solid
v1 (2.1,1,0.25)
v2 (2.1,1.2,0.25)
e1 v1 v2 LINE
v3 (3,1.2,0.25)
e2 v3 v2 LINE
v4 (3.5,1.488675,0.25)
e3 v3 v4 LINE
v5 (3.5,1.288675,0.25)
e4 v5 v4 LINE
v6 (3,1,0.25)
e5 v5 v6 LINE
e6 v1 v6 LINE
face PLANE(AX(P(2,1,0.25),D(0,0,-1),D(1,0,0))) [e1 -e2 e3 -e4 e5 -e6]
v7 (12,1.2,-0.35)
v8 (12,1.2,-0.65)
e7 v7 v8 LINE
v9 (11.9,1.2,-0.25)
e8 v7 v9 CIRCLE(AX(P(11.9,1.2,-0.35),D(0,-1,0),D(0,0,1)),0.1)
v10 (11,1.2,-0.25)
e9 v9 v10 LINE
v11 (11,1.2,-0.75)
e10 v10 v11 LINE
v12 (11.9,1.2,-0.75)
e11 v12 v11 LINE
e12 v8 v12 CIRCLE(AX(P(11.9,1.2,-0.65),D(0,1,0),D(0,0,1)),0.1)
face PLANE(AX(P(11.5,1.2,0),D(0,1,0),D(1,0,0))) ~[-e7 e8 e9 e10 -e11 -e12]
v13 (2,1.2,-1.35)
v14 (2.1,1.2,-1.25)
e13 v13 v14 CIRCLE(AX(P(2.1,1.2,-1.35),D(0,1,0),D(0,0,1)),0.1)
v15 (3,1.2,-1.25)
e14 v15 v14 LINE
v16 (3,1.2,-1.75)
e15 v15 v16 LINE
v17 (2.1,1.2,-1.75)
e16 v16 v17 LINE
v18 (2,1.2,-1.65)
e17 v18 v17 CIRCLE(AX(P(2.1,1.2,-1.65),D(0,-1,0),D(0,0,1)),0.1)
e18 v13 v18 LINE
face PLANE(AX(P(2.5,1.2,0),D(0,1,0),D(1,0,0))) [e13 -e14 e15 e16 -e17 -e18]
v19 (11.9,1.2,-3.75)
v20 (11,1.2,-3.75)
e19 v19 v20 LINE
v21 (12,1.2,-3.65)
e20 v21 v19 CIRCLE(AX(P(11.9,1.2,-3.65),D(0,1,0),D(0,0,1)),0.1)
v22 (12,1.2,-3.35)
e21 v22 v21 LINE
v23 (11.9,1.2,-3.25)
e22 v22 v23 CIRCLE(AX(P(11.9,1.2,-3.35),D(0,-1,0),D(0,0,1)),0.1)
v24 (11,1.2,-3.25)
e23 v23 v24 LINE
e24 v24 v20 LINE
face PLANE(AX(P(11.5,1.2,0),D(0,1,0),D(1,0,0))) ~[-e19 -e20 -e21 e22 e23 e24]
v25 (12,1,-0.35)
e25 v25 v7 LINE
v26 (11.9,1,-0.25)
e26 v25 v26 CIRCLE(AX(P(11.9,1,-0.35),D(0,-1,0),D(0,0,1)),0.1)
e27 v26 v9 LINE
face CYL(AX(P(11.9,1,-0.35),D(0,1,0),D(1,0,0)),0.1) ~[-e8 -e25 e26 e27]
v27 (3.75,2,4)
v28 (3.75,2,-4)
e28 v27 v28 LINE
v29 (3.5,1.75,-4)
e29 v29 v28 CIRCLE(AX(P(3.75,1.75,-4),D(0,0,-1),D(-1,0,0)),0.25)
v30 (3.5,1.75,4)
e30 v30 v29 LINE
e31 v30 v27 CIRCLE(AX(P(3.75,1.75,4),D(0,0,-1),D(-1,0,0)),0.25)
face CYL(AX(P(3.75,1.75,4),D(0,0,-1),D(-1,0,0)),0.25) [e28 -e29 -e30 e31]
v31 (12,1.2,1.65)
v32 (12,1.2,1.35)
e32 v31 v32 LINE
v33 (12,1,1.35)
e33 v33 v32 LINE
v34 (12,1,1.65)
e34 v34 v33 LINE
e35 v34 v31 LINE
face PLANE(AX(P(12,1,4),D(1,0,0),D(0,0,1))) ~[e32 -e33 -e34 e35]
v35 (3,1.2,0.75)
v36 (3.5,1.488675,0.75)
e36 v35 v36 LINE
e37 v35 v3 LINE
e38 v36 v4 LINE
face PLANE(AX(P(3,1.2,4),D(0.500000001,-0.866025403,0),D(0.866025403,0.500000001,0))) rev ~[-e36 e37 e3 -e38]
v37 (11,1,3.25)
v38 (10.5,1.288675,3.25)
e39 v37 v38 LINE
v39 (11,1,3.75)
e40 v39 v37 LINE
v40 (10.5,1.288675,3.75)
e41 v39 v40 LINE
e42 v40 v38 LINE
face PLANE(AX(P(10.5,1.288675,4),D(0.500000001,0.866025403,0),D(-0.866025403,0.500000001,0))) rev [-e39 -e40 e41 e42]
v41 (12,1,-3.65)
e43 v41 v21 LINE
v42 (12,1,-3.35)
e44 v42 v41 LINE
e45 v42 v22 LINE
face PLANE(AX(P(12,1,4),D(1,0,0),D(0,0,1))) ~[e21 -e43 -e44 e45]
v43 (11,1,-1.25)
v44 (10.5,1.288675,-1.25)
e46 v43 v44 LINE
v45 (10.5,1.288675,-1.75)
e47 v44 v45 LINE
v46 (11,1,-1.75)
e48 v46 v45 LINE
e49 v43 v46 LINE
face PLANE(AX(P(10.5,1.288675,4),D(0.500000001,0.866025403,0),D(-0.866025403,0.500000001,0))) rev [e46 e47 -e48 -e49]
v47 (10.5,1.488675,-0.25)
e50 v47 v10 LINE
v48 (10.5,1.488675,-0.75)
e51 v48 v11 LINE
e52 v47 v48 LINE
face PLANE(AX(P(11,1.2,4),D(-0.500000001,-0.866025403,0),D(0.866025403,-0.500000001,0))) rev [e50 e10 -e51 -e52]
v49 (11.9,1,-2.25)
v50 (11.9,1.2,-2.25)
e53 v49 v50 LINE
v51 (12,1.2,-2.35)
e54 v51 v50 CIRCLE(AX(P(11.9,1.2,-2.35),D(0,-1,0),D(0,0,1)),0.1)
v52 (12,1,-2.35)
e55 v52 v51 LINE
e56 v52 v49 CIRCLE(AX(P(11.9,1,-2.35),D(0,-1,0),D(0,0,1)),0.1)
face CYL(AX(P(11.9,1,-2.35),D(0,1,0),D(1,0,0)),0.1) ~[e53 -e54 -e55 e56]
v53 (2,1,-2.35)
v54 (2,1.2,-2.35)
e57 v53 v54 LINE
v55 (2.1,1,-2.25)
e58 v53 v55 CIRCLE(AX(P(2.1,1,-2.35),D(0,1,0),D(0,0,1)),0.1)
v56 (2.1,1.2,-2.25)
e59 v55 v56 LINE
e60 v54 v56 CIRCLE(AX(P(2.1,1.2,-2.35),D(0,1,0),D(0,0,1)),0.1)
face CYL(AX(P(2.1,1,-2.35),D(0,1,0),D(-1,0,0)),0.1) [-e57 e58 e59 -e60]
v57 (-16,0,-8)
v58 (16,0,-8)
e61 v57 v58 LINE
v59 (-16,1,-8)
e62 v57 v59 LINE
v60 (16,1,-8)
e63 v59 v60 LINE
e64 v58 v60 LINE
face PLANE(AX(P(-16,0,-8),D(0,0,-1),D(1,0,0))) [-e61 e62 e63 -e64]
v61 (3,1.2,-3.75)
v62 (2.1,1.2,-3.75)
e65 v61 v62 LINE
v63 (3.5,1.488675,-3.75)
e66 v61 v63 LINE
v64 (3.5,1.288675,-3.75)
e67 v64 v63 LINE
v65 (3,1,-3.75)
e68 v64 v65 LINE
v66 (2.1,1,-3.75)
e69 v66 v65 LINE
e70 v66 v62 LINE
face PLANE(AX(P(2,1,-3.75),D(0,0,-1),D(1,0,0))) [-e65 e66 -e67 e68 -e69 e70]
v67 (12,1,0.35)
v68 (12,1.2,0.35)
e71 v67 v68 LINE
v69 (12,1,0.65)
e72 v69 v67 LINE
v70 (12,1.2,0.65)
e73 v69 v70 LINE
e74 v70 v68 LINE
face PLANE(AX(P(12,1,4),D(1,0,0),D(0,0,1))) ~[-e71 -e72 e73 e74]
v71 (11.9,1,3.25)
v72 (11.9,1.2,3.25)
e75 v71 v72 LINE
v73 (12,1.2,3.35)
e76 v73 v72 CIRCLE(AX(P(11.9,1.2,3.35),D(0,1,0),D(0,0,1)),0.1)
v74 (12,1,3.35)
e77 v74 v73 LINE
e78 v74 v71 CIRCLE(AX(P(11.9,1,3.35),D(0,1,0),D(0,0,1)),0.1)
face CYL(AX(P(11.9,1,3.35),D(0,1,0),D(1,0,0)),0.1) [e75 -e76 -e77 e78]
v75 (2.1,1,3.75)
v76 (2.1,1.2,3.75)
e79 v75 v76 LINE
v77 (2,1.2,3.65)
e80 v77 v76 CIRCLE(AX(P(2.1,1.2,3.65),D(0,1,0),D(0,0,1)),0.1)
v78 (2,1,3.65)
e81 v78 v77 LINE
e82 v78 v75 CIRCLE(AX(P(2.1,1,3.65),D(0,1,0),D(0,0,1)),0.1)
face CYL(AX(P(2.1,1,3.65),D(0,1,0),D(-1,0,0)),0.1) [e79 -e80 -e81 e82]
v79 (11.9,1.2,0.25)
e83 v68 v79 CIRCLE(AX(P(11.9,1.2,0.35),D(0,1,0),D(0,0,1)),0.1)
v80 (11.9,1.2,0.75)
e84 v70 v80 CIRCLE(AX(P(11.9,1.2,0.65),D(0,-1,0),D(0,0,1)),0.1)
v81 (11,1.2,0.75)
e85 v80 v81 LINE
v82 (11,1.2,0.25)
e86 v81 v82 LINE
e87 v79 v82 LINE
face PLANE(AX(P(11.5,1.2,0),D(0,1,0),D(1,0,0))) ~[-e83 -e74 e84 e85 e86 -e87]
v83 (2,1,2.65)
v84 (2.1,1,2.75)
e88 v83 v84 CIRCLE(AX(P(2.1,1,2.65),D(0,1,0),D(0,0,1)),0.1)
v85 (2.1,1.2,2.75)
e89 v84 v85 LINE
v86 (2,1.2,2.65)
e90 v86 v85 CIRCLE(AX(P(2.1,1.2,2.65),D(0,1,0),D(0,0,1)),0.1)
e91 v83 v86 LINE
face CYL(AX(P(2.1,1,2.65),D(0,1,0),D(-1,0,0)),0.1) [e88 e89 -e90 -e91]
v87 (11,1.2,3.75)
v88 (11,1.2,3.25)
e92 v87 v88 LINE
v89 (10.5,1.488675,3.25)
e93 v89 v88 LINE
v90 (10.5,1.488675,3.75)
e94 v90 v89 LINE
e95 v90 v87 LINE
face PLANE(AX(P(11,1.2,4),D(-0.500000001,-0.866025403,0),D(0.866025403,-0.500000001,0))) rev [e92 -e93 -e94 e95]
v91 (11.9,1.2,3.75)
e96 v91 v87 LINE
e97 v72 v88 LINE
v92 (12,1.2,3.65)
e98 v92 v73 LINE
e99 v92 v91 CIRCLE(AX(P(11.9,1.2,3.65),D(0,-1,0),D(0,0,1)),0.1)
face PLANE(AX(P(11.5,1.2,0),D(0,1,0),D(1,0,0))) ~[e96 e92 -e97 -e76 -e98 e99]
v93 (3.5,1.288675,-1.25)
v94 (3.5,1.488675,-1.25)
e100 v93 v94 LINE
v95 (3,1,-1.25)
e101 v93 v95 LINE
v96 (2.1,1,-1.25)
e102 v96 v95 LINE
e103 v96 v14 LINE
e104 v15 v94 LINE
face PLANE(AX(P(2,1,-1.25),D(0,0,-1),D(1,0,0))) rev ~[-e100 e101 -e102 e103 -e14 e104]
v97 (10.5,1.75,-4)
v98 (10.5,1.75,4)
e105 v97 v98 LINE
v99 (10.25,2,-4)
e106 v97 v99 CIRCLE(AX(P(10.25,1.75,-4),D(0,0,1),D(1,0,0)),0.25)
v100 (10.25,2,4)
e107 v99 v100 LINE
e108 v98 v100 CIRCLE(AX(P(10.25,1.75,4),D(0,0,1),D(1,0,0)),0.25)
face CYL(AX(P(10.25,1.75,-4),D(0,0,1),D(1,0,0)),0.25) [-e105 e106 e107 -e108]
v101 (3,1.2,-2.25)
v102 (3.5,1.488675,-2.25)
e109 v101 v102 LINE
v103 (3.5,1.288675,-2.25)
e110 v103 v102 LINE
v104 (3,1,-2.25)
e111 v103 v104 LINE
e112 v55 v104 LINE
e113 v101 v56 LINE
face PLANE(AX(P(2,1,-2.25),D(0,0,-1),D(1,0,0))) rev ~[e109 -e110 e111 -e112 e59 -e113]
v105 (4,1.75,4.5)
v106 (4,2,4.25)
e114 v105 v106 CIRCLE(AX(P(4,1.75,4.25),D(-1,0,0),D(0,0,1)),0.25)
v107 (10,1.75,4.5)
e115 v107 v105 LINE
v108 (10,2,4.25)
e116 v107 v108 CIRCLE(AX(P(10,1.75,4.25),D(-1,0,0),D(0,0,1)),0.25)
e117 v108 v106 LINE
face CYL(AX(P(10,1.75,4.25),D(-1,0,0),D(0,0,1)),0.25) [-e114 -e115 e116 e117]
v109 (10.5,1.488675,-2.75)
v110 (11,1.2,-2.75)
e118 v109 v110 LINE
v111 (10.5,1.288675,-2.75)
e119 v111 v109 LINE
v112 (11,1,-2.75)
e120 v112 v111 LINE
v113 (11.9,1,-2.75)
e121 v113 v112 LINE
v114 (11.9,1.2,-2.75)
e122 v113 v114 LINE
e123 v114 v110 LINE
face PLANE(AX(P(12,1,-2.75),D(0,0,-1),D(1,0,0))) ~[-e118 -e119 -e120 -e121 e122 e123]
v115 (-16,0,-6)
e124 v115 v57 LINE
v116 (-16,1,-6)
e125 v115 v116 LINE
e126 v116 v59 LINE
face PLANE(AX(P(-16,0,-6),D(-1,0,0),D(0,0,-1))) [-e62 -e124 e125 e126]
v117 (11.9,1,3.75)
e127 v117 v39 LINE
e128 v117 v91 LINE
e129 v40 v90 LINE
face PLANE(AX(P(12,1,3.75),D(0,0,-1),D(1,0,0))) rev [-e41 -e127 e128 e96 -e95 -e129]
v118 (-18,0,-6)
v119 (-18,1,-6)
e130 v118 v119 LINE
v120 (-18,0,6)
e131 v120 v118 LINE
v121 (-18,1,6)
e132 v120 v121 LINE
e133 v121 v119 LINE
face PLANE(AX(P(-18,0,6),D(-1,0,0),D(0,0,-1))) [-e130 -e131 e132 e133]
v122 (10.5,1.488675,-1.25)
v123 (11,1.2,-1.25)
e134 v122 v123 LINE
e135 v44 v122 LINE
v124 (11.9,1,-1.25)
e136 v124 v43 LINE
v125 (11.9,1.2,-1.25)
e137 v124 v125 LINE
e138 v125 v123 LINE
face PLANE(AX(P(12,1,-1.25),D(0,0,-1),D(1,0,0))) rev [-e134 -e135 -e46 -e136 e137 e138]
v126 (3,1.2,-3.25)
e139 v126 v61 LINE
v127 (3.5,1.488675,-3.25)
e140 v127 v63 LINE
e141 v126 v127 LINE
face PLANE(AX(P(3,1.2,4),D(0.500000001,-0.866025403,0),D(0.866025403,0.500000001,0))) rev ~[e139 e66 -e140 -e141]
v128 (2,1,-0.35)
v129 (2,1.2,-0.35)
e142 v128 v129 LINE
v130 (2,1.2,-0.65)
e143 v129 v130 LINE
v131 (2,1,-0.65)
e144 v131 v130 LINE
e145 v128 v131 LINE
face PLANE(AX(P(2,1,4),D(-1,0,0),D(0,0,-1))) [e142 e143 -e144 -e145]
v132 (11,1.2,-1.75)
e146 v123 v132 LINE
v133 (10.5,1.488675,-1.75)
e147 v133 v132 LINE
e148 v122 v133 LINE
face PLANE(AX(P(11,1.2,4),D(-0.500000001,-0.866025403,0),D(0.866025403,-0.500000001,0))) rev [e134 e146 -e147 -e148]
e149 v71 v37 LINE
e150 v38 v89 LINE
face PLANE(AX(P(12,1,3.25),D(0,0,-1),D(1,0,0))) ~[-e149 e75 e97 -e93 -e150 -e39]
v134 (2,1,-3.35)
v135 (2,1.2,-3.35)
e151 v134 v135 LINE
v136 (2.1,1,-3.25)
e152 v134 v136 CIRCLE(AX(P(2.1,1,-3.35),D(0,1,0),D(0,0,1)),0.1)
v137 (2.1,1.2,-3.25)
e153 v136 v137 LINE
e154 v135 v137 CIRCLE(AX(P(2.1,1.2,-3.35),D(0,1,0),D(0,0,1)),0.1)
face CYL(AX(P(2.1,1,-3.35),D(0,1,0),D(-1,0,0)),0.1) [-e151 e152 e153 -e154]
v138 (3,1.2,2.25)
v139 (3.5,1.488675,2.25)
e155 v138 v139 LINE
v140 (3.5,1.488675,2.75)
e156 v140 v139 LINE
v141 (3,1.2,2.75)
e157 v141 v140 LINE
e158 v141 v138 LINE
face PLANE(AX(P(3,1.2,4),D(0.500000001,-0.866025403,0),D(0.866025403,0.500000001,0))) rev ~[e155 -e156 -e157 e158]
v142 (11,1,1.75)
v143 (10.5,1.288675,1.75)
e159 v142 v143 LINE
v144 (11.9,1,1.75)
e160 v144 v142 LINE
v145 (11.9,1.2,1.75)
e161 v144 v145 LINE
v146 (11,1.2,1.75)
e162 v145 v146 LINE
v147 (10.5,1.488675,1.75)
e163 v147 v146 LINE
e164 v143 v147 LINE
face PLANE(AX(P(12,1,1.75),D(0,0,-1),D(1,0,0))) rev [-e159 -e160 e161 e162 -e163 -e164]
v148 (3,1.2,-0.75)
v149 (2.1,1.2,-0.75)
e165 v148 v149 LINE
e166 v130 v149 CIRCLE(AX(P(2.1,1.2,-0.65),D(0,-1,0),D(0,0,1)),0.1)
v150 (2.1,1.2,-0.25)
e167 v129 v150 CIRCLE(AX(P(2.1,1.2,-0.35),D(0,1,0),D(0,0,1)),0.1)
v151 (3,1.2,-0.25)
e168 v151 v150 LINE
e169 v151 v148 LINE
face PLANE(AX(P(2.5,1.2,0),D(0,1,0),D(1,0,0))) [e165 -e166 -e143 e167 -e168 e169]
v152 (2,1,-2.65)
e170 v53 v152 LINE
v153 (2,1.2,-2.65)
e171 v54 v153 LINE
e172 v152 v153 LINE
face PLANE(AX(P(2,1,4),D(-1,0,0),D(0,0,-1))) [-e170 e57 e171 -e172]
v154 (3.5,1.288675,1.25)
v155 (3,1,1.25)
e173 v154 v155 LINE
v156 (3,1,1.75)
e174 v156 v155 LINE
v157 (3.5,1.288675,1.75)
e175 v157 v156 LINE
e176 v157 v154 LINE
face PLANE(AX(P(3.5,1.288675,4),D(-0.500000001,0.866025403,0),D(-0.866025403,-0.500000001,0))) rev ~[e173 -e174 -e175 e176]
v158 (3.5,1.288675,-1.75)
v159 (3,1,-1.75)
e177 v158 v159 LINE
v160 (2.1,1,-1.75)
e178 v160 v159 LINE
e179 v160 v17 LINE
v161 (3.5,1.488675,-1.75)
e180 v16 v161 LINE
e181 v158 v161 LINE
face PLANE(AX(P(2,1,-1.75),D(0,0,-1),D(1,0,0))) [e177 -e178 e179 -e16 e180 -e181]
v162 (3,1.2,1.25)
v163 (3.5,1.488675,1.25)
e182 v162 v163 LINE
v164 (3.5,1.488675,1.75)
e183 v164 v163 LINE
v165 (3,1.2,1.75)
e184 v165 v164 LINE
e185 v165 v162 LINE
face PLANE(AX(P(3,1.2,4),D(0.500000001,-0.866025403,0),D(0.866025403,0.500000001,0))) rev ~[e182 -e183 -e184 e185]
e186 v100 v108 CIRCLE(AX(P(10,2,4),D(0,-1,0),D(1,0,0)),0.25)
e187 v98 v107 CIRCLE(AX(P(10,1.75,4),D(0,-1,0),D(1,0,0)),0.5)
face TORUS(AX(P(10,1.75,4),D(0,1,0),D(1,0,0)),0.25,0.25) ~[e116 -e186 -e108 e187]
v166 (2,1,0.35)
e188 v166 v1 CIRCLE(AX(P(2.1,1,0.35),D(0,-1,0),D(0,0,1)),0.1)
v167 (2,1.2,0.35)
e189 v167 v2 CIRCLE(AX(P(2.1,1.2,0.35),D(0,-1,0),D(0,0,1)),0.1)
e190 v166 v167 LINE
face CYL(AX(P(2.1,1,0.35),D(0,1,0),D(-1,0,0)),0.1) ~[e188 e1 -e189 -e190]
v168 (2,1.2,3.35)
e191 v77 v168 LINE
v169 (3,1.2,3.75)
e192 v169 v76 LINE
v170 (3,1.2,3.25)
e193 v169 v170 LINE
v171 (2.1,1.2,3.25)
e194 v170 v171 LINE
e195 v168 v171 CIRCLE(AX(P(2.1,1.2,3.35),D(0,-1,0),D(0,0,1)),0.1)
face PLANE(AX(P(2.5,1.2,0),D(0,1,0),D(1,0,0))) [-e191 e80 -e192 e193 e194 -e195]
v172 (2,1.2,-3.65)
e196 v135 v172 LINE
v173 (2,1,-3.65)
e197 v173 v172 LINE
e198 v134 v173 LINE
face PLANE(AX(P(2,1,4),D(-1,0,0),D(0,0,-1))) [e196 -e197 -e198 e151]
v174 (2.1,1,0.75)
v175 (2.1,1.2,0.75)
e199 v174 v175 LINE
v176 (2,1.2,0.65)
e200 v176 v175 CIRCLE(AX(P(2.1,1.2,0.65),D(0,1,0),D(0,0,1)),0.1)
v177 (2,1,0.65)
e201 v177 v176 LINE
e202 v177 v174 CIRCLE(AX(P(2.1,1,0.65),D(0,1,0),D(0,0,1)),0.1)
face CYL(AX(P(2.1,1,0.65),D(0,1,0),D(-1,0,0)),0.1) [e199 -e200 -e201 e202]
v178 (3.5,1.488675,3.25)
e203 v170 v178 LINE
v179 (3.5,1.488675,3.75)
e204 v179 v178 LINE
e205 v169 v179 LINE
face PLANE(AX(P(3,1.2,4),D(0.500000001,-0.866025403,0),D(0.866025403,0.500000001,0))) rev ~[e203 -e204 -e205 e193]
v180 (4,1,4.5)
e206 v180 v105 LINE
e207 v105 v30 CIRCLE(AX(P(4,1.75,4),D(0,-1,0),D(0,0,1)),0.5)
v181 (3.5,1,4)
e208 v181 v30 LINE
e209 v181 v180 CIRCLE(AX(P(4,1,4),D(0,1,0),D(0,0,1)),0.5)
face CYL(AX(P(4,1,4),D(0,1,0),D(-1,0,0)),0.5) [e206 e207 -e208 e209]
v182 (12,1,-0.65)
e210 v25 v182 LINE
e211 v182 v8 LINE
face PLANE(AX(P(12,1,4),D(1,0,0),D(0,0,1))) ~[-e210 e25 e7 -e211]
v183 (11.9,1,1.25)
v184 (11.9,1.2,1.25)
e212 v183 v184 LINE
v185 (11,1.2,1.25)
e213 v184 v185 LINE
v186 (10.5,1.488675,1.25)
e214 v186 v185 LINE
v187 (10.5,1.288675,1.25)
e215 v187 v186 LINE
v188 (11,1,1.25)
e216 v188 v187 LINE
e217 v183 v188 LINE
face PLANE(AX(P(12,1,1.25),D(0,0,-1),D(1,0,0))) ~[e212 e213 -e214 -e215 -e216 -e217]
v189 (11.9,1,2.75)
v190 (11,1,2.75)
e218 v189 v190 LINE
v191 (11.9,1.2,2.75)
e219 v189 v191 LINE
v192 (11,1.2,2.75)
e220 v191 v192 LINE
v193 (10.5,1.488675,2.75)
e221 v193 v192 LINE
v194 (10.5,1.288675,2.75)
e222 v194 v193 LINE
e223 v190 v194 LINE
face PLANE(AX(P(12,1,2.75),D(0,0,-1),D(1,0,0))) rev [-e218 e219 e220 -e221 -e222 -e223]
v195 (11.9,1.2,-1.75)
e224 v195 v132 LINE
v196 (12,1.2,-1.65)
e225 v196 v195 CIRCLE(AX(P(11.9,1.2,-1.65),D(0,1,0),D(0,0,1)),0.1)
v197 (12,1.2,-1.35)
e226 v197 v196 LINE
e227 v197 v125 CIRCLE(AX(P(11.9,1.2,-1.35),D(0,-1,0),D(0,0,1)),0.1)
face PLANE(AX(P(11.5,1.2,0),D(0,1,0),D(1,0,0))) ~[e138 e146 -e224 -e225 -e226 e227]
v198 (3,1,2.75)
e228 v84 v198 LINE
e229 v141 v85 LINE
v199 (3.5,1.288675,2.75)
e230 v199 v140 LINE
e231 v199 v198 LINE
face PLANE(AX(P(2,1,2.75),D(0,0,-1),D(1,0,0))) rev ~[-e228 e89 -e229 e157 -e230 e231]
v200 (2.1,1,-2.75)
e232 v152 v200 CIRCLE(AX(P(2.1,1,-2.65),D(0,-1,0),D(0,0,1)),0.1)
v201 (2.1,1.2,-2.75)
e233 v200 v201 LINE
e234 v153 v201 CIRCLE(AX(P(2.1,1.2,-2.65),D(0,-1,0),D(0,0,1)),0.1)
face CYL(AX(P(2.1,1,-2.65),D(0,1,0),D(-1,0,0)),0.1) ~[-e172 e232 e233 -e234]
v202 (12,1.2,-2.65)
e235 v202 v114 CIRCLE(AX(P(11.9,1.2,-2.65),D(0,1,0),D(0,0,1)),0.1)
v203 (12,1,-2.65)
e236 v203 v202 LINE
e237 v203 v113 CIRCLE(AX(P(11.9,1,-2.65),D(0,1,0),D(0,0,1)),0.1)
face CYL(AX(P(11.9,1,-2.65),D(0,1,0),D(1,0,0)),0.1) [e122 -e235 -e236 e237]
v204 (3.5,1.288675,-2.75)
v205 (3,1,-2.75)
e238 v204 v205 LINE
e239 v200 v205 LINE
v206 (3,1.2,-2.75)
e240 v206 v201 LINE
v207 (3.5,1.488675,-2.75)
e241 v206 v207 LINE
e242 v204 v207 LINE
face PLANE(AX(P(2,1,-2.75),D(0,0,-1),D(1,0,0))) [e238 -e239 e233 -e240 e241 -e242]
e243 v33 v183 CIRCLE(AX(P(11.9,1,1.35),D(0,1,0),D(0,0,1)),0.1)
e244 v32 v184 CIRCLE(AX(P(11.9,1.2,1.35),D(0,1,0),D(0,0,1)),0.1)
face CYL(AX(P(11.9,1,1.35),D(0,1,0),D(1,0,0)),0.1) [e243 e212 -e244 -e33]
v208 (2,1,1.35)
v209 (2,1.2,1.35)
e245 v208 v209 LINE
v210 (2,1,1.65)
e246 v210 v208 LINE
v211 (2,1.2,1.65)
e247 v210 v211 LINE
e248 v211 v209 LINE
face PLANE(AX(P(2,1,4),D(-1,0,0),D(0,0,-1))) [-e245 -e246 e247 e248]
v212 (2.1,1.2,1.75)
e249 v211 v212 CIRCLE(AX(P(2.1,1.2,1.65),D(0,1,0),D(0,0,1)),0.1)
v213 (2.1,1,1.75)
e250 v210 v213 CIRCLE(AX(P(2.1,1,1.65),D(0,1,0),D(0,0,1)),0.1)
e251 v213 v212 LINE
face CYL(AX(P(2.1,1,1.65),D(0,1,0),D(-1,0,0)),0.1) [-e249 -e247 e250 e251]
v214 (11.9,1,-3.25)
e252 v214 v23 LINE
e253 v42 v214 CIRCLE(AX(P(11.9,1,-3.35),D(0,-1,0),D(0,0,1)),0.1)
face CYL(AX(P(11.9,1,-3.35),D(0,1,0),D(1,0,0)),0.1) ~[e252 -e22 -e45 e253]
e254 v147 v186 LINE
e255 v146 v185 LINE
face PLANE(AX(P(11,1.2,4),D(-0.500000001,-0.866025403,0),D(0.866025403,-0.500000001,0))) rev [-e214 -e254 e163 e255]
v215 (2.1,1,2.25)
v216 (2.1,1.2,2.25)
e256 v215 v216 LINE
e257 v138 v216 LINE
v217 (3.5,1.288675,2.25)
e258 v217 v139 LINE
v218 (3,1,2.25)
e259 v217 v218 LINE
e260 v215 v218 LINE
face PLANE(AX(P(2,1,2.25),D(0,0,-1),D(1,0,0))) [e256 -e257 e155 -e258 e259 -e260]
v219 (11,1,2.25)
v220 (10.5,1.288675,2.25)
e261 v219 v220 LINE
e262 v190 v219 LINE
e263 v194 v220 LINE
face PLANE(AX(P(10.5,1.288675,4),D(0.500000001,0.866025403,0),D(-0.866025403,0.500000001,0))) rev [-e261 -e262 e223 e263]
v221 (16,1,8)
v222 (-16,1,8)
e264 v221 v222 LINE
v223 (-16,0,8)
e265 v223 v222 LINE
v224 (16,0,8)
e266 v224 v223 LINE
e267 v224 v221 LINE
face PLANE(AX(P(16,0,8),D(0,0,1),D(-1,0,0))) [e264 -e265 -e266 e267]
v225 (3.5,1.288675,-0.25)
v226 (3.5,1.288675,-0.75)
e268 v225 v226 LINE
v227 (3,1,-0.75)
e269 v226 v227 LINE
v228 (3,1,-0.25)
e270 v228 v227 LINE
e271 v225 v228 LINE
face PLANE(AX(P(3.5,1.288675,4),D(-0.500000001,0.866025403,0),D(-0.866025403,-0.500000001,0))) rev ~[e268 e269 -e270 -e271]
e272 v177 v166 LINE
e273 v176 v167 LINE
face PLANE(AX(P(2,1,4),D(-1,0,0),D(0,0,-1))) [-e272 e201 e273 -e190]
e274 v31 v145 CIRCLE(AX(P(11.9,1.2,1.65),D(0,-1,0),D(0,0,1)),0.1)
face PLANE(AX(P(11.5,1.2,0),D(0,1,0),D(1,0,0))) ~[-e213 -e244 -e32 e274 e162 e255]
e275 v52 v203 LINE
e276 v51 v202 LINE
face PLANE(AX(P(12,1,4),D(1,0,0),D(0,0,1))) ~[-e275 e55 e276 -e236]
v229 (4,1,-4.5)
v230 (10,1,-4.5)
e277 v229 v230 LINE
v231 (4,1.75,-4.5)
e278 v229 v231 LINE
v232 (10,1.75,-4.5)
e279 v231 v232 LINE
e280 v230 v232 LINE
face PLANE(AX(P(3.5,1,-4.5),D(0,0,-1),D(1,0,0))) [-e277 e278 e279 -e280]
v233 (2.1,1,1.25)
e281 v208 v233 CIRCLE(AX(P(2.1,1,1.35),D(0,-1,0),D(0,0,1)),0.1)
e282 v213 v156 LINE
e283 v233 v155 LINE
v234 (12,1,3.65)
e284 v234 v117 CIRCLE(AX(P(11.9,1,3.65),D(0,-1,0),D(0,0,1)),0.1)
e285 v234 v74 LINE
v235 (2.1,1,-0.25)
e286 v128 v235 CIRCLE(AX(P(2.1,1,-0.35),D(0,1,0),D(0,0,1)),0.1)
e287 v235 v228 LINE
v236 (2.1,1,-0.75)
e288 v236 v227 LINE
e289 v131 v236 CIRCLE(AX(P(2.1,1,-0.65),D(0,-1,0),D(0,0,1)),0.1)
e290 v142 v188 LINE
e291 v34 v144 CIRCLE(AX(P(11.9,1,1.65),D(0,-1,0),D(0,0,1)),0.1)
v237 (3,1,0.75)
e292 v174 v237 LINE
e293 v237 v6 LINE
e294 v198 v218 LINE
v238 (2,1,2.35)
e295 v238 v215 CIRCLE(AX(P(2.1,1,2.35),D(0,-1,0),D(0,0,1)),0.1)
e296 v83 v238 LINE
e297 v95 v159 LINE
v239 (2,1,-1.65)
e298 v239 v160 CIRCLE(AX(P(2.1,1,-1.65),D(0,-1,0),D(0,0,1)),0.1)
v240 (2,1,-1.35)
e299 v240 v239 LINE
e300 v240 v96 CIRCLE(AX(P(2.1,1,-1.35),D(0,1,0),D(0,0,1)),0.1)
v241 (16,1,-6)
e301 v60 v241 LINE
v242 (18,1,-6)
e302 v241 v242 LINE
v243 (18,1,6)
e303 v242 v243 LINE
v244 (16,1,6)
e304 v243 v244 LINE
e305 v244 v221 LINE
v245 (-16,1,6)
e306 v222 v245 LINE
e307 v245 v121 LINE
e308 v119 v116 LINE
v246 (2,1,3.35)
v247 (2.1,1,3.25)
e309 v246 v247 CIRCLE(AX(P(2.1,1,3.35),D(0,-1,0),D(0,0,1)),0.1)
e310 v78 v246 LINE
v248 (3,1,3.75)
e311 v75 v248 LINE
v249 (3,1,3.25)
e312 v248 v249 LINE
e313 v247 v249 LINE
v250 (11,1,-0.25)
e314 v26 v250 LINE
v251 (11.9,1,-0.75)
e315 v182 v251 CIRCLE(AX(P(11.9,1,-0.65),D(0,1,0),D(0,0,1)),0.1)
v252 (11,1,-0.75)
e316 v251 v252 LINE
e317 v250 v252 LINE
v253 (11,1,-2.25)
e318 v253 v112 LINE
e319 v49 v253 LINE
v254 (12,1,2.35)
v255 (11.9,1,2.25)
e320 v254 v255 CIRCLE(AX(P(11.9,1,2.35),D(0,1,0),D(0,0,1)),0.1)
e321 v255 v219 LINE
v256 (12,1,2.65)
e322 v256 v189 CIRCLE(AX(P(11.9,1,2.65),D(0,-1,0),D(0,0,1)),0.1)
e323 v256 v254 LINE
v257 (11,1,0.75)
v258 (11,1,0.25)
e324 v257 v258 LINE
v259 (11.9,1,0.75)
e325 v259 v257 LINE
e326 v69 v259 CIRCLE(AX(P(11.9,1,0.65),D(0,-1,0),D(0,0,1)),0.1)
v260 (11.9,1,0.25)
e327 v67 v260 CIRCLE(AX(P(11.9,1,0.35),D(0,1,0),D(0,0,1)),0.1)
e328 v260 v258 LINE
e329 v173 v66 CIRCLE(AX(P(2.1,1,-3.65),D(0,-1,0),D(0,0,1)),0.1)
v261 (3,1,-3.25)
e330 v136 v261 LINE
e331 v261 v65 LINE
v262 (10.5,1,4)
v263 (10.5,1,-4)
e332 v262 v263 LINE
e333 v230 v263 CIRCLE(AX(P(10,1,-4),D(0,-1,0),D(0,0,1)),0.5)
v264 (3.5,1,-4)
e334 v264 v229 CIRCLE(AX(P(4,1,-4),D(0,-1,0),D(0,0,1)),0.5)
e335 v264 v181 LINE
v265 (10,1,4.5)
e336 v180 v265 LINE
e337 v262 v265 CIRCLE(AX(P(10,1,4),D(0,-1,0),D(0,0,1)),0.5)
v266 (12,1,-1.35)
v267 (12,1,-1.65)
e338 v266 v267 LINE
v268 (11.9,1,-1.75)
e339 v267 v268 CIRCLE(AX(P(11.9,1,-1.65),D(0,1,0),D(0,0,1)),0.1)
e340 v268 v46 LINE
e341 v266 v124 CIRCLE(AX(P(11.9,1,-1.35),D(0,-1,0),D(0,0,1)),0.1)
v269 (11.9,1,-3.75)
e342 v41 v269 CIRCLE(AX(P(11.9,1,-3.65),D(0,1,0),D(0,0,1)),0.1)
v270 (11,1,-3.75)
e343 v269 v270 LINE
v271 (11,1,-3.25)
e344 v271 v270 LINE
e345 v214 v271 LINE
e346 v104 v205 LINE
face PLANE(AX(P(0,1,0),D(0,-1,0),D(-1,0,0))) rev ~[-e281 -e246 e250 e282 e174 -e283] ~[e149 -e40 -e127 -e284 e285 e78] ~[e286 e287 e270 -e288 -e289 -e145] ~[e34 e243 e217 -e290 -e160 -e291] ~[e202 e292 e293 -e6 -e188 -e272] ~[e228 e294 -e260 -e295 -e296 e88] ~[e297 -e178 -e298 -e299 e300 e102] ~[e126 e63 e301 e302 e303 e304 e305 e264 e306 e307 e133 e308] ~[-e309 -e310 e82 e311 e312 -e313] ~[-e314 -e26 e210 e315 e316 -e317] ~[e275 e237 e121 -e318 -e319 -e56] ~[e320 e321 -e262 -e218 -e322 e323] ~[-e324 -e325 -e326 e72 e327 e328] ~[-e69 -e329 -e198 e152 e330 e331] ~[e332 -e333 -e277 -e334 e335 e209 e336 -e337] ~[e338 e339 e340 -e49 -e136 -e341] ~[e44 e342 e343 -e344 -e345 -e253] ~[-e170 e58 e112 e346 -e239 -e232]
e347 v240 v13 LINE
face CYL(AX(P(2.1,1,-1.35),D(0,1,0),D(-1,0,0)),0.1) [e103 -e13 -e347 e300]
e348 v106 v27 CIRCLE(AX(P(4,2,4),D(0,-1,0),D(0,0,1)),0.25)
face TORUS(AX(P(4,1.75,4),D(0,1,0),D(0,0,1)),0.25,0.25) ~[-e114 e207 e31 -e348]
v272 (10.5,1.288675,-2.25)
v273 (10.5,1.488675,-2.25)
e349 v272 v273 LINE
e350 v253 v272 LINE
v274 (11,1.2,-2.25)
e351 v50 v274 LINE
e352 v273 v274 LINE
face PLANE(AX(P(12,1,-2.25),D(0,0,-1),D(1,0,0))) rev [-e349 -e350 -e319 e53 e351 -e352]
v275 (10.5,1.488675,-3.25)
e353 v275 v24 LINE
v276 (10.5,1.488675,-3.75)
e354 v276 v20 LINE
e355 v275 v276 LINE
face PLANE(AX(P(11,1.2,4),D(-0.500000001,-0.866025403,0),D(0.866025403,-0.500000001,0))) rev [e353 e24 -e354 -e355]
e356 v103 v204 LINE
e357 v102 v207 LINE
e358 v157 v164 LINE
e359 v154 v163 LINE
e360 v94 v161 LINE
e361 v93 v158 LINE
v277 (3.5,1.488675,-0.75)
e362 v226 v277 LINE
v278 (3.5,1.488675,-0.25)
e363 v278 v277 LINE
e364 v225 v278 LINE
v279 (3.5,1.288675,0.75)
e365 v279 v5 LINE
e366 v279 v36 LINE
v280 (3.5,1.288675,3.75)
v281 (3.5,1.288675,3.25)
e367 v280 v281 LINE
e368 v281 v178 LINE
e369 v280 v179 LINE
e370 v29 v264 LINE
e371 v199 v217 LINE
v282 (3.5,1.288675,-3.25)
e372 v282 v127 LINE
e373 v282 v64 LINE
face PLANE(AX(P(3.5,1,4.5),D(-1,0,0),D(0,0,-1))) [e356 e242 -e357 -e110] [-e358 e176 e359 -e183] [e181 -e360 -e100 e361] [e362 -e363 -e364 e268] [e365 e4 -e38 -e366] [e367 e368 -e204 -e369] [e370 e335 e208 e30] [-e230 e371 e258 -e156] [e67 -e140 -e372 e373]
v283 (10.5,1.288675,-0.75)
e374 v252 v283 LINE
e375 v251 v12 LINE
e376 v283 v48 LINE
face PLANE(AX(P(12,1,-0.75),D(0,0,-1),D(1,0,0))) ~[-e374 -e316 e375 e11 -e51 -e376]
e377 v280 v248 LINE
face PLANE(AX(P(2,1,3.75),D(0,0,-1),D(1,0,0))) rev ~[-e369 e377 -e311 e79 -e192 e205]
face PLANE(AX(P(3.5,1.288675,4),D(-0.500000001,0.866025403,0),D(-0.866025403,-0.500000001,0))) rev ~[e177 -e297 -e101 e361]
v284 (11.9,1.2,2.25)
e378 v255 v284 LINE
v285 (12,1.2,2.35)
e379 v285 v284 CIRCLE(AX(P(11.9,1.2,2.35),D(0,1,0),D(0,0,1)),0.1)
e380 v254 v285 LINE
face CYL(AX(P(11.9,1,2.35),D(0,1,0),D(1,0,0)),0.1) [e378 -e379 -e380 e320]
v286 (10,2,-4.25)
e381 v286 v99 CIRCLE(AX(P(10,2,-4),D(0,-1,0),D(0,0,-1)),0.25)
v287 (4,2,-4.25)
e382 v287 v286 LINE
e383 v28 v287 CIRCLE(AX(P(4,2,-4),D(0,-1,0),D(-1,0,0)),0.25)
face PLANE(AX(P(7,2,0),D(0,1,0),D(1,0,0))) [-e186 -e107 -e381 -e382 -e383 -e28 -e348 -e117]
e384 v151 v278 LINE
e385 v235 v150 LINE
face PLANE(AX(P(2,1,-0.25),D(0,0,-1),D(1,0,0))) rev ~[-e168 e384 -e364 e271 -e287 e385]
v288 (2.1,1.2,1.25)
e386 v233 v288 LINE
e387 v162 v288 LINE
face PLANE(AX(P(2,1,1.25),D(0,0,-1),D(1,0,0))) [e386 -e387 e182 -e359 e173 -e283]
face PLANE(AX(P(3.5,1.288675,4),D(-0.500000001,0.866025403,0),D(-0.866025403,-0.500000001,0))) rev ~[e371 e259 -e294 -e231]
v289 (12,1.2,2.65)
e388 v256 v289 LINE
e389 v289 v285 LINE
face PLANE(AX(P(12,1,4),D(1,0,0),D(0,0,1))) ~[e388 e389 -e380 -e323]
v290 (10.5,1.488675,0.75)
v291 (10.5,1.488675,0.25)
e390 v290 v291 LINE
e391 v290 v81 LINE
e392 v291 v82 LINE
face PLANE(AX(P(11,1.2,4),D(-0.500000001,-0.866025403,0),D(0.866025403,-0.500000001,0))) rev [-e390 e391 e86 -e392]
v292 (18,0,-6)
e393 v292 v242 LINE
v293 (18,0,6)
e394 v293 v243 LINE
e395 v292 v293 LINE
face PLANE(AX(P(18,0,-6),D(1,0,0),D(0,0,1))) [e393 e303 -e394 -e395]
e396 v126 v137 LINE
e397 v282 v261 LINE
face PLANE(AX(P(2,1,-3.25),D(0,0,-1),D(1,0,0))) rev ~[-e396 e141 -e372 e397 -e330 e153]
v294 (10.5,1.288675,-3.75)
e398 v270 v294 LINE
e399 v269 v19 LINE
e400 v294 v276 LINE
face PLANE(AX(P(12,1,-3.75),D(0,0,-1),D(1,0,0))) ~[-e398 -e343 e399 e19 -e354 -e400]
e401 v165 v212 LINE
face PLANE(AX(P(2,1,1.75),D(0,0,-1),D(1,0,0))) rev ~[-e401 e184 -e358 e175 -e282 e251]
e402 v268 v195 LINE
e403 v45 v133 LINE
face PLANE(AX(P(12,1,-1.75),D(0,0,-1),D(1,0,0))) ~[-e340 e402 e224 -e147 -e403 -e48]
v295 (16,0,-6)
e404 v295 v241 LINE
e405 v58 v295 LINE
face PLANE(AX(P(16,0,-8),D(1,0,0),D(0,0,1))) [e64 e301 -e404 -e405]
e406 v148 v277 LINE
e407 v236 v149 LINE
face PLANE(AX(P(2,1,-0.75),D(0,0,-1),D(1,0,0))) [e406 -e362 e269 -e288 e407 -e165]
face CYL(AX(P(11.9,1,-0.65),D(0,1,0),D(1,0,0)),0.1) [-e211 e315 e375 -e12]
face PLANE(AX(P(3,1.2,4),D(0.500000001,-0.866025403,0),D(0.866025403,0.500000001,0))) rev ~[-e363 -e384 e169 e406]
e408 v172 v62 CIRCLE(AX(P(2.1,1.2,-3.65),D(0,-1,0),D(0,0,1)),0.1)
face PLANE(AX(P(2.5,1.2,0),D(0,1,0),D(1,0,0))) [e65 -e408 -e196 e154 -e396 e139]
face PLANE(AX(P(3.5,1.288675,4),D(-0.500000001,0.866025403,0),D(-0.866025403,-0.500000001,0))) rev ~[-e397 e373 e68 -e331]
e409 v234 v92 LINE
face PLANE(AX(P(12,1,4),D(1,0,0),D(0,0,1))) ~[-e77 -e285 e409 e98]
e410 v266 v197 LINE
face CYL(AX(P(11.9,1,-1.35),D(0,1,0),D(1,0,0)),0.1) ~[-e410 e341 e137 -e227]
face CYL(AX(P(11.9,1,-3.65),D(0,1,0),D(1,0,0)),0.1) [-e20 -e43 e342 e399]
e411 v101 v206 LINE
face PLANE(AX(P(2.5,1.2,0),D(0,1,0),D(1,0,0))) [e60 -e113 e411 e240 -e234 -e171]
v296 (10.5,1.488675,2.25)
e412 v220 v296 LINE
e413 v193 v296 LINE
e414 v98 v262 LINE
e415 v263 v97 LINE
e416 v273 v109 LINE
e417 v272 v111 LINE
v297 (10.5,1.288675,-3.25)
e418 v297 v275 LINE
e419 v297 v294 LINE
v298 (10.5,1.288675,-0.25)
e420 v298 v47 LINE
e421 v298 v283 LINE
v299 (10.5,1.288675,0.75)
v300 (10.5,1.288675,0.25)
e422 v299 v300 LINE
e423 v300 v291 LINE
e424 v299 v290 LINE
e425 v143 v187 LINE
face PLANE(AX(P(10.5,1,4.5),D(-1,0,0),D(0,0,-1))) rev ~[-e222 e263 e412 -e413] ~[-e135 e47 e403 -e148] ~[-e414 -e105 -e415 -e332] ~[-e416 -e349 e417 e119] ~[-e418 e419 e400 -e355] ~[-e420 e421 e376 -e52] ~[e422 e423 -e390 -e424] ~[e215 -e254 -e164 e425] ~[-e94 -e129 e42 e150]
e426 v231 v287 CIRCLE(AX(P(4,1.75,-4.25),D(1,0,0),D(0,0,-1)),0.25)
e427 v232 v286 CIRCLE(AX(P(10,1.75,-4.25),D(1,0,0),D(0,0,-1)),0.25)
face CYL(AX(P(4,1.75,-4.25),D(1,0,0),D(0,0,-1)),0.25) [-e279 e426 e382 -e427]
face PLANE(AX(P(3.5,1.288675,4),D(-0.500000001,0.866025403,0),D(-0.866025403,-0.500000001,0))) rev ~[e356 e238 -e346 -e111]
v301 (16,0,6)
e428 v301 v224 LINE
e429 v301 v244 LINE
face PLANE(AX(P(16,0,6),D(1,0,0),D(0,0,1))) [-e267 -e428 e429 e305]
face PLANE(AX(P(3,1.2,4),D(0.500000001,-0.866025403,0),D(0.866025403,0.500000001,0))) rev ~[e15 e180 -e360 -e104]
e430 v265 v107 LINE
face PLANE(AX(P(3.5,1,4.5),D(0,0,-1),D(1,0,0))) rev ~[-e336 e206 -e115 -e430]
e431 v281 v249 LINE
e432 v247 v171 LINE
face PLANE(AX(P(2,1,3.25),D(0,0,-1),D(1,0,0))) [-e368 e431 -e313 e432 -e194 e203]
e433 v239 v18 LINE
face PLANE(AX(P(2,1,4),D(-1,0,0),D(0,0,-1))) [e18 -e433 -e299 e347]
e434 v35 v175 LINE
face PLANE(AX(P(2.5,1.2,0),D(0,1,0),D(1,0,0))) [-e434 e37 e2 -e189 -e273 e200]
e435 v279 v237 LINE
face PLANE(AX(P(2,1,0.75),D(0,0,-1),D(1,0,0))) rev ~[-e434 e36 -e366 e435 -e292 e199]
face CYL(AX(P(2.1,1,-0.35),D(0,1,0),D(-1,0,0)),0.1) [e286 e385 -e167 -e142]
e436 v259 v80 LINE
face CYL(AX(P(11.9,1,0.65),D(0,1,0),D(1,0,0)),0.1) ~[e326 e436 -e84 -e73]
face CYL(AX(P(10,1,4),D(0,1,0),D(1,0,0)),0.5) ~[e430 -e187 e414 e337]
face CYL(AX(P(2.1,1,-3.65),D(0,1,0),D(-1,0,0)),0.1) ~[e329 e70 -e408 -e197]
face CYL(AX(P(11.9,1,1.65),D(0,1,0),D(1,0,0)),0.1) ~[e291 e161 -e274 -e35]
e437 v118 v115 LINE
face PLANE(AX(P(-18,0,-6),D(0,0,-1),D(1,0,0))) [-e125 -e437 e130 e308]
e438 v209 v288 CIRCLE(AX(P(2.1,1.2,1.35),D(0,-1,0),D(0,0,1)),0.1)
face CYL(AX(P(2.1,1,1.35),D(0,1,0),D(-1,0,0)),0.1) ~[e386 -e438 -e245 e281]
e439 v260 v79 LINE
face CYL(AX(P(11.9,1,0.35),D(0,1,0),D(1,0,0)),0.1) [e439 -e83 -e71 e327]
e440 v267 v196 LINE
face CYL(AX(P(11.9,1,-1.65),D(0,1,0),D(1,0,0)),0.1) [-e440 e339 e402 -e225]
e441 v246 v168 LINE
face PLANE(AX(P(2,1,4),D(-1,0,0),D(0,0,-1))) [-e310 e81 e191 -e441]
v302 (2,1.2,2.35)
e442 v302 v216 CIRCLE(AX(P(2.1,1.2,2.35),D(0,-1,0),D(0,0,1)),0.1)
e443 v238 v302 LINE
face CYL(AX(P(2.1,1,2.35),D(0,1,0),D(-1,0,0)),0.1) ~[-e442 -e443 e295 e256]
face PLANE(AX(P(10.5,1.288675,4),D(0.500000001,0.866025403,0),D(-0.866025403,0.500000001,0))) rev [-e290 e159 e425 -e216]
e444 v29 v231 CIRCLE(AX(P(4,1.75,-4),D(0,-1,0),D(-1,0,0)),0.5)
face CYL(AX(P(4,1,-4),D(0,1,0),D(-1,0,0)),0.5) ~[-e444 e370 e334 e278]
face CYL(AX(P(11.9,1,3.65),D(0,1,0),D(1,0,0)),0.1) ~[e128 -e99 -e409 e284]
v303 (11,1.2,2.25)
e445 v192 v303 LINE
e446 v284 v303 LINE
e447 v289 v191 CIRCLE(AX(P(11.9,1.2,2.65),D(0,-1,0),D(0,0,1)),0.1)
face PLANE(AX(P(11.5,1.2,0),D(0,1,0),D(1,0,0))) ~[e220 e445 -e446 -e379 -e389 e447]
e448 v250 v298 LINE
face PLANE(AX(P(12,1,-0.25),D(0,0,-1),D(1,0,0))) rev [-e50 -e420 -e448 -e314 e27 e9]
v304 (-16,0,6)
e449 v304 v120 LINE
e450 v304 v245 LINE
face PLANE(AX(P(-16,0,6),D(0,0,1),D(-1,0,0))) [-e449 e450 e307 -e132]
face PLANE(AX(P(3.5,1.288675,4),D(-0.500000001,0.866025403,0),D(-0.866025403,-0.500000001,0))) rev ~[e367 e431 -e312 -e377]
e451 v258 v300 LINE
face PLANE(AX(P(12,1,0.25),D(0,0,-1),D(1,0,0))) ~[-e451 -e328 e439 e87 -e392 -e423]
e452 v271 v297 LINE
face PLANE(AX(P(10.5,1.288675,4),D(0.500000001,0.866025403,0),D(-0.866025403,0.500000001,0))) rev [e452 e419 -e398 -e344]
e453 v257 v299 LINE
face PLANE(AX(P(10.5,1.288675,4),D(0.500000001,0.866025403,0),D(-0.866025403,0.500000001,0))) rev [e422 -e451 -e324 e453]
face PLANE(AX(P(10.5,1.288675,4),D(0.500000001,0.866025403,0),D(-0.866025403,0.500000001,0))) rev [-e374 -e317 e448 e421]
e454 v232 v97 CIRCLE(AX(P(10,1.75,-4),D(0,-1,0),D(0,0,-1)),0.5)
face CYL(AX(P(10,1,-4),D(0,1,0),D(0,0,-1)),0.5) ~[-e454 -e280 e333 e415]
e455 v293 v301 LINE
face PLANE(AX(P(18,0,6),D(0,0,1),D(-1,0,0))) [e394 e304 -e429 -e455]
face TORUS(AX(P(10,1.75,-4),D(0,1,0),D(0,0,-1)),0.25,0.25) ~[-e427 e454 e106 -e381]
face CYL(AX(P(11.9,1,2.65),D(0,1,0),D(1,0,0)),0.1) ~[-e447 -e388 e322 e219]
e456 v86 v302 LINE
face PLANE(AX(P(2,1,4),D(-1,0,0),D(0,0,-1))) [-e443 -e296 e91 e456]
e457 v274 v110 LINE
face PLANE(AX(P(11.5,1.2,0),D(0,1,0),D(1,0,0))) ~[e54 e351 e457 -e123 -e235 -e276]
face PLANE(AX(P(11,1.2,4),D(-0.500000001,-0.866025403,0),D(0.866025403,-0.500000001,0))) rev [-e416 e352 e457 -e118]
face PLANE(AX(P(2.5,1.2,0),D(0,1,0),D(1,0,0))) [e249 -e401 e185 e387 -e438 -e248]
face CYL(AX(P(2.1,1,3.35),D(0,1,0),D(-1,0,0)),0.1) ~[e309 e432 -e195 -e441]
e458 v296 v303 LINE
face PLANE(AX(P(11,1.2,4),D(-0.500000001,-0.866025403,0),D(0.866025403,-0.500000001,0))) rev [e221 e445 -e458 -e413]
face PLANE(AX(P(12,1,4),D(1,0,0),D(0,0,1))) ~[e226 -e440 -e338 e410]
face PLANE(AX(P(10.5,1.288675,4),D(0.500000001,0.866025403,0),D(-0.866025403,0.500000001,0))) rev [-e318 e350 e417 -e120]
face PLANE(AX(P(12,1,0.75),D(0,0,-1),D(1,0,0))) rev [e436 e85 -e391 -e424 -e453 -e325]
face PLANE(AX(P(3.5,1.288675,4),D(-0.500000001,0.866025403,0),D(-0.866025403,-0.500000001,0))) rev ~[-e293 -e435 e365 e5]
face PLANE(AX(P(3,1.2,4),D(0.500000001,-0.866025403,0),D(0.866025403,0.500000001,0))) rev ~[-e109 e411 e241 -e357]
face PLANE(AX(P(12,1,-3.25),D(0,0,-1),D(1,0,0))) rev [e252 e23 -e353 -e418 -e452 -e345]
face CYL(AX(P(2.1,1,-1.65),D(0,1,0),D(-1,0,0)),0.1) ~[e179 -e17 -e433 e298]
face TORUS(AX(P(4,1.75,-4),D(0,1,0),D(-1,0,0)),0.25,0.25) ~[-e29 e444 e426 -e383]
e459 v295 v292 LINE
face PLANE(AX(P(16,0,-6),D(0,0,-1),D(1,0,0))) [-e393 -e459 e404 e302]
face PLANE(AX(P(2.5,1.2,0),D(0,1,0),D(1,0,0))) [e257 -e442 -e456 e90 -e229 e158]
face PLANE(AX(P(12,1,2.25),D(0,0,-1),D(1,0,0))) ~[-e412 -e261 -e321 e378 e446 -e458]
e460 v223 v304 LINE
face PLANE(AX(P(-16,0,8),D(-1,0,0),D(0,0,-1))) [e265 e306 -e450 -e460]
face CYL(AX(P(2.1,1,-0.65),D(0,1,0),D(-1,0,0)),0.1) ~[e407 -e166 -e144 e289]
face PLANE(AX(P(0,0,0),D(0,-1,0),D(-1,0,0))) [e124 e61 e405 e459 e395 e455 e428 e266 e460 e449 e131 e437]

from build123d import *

# Parameters (mm, degrees)
ESTRUSIONE_ESTRUSIONE1_DEPTH = 1
SCHIZZO2_W                   = 7
SCHIZZO2_H                   = 9
ESTRUSIONE_ESTRUSIONE2_DEPTH = 1
RACCORDO2_R                  = 0.5
RACCORDO3_R                  = 0.25
SCHIZZO4_W                   = 1
SCHIZZO4_H                   = 8
ESTRUSIONE_ESTRUSIONE6_DEPTH = 0.2
ESTRUSIONE_ESTRUSIONE7_DEPTH = 8
SCHIZZO6_W                   = 1.5
SCHIZZO6_H                   = 0.5
SCHIZZO6_H_2                 = 0.25
TAGLIO_ESTRUSIONE1_DEPTH     = 1
RACCORDO6_R                  = 0.1
RACCORDO6_OF_SPECCHIA1_R     = 0.1


with BuildPart() as part:
    # Schizzo1 → Estrusione-Estrusione1 (new body)
    with BuildSketch(Plane(origin=(0, 0, 0), x_dir=(1, 0, 0), z_dir=(0, 1, 0))):
        Polygon((-16, -8), (-16, -6), (-18, -6), (-18, 6), (-16, 6), (-16, 8), (16, 8), (16, 6), (18, 6), (18, -6), (16, -6), (16, -8), align=None)
    extrude(amount=ESTRUSIONE_ESTRUSIONE1_DEPTH)

    # Schizzo2 → Estrusione-Estrusione2 (add)
    with BuildSketch(Plane(origin=(0, 1, 0), x_dir=(1, 0, 0), z_dir=(0, 1, 0))):
        with Locations((7, 0)):
            Rectangle(SCHIZZO2_W, SCHIZZO2_H)
    extrude(amount=ESTRUSIONE_ESTRUSIONE2_DEPTH)

    # Raccordo2
    raccordo2_edges = [part.edges().sort_by_distance(p)[0] for p in [
        (10.5, 1.5, 4.5),
        (10.5, 1.5, -4.5),
        (3.5, 1.5, -4.5),
        (3.5, 1.5, 4.5),
    ]]
    fillet(raccordo2_edges, radius=RACCORDO2_R)

    # Raccordo3
    raccordo3_edges = [part.edges().sort_by_distance(p)[0] for p in [
        (3.5, 2, 0),
        (7, 2, -4.5),
        (10.5, 2, 0),
        (7, 2, 4.5),
        (3.646446609, 2, 4.353553391),
        (10.353553391, 2, 4.353553391),
        (10.353553391, 2, -4.353553391),
        (3.646446609, 2, -4.353553391),
    ]]
    fillet(raccordo3_edges, radius=RACCORDO3_R)

    # Schizzo4 → Estrusione-Estrusione6 (add)
    with BuildSketch(Plane(origin=(0, 1, 0), x_dir=(1, 0, 0), z_dir=(0, 1, 0))):
        with Locations((2.5, 0)):
            Rectangle(SCHIZZO4_W, SCHIZZO4_H)
    estrusione_estrusione6 = extrude(amount=ESTRUSIONE_ESTRUSIONE6_DEPTH)

    # Schizzo5 → Estrusione-Estrusione7 (add)
    with BuildSketch(Plane.XY.offset(4)):
        Polygon((3, 1), (3, 1.2), (3.5, 1.488675135), (3.5, 1.288675135), align=None)
    estrusione_estrusione7 = extrude(amount=-ESTRUSIONE_ESTRUSIONE7_DEPTH)

    # Schizzo6 → Taglio-Estrusione1 (cut)
    with BuildSketch(Plane(origin=(0, 1, 0), x_dir=(1, 0, 0), z_dir=(0, 1, 0))):
        with Locations((2.75, -3)):
            Rectangle(SCHIZZO6_W, SCHIZZO6_H)
        with Locations((2.75, -2)):
            Rectangle(SCHIZZO6_W, SCHIZZO6_H)
        with Locations((2.75, -1)):
            Rectangle(SCHIZZO6_W, SCHIZZO6_H)
        with Locations((2.75, 0)):
            Rectangle(SCHIZZO6_W, SCHIZZO6_H)
        with Locations((2.75, 1)):
            Rectangle(SCHIZZO6_W, SCHIZZO6_H)
        with Locations((2.75, 2)):
            Rectangle(SCHIZZO6_W, SCHIZZO6_H)
        with Locations((2.75, 3)):
            Rectangle(SCHIZZO6_W, SCHIZZO6_H)
        with Locations((2.75, 3.875)):
            Rectangle(SCHIZZO6_W, SCHIZZO6_H_2)
        with Locations((2.75, -3.875)):
            Rectangle(SCHIZZO6_W, SCHIZZO6_H_2)
    taglio_estrusione1 = extrude(amount=TAGLIO_ESTRUSIONE1_DEPTH, mode=Mode.SUBTRACT)

    # Raccordo6
    raccordo6_edges = [part.edges().sort_by_distance(p)[0] for p in [
        (2, 1.1, 1.75),
        (2, 1.1, 2.25),
        (2, 1.1, 0.75),
        (2, 1.1, 1.25),
        (2, 1.1, -0.25),
        (2, 1.1, 0.25),
        (2, 1.1, -1.25),
        (2, 1.1, -0.75),
        (2, 1.1, 3.75),
        (2, 1.1, -3.75),
        (2, 1.1, -3.25),
        (2, 1.1, -2.75),
        (2, 1.1, -2.25),
        (2, 1.1, -1.75),
        (2, 1.1, 2.75),
        (2, 1.1, 3.25),
    ]]
    fillet(raccordo6_edges, radius=RACCORDO6_R)

    # Specchia1: Estrusione-Estrusione6, Estrusione-Estrusione7, Taglio-Estrusione1 across plane
    add(estrusione_estrusione6.mirror(Plane.ZY.offset(-7)))
    add(estrusione_estrusione7.mirror(Plane.ZY.offset(-7)))
    add(taglio_estrusione1.mirror(Plane.ZY.offset(-7)), mode=Mode.SUBTRACT)

    # Raccordo6 of Specchia1
    raccordo6_of_specchia1_edges = [part.edges().sort_by_distance(p)[0] for p in [
        (12, 1.1, 1.75),
        (12, 1.1, 2.25),
        (12, 1.1, 0.75),
        (12, 1.1, 1.25),
        (12, 1.1, -0.25),
        (12, 1.1, 0.25),
        (12, 1.1, -1.25),
        (12, 1.1, -0.75),
        (12, 1.1, 3.75),
        (12, 1.1, -3.75),
        (12, 1.1, -3.25),
        (12, 1.1, -2.75),
        (12, 1.1, -2.25),
        (12, 1.1, -1.75),
        (12, 1.1, 2.75),
        (12, 1.1, 3.25),
    ]]
    fillet(raccordo6_of_specchia1_edges, radius=RACCORDO6_OF_SPECCHIA1_R)


solid = part.part
